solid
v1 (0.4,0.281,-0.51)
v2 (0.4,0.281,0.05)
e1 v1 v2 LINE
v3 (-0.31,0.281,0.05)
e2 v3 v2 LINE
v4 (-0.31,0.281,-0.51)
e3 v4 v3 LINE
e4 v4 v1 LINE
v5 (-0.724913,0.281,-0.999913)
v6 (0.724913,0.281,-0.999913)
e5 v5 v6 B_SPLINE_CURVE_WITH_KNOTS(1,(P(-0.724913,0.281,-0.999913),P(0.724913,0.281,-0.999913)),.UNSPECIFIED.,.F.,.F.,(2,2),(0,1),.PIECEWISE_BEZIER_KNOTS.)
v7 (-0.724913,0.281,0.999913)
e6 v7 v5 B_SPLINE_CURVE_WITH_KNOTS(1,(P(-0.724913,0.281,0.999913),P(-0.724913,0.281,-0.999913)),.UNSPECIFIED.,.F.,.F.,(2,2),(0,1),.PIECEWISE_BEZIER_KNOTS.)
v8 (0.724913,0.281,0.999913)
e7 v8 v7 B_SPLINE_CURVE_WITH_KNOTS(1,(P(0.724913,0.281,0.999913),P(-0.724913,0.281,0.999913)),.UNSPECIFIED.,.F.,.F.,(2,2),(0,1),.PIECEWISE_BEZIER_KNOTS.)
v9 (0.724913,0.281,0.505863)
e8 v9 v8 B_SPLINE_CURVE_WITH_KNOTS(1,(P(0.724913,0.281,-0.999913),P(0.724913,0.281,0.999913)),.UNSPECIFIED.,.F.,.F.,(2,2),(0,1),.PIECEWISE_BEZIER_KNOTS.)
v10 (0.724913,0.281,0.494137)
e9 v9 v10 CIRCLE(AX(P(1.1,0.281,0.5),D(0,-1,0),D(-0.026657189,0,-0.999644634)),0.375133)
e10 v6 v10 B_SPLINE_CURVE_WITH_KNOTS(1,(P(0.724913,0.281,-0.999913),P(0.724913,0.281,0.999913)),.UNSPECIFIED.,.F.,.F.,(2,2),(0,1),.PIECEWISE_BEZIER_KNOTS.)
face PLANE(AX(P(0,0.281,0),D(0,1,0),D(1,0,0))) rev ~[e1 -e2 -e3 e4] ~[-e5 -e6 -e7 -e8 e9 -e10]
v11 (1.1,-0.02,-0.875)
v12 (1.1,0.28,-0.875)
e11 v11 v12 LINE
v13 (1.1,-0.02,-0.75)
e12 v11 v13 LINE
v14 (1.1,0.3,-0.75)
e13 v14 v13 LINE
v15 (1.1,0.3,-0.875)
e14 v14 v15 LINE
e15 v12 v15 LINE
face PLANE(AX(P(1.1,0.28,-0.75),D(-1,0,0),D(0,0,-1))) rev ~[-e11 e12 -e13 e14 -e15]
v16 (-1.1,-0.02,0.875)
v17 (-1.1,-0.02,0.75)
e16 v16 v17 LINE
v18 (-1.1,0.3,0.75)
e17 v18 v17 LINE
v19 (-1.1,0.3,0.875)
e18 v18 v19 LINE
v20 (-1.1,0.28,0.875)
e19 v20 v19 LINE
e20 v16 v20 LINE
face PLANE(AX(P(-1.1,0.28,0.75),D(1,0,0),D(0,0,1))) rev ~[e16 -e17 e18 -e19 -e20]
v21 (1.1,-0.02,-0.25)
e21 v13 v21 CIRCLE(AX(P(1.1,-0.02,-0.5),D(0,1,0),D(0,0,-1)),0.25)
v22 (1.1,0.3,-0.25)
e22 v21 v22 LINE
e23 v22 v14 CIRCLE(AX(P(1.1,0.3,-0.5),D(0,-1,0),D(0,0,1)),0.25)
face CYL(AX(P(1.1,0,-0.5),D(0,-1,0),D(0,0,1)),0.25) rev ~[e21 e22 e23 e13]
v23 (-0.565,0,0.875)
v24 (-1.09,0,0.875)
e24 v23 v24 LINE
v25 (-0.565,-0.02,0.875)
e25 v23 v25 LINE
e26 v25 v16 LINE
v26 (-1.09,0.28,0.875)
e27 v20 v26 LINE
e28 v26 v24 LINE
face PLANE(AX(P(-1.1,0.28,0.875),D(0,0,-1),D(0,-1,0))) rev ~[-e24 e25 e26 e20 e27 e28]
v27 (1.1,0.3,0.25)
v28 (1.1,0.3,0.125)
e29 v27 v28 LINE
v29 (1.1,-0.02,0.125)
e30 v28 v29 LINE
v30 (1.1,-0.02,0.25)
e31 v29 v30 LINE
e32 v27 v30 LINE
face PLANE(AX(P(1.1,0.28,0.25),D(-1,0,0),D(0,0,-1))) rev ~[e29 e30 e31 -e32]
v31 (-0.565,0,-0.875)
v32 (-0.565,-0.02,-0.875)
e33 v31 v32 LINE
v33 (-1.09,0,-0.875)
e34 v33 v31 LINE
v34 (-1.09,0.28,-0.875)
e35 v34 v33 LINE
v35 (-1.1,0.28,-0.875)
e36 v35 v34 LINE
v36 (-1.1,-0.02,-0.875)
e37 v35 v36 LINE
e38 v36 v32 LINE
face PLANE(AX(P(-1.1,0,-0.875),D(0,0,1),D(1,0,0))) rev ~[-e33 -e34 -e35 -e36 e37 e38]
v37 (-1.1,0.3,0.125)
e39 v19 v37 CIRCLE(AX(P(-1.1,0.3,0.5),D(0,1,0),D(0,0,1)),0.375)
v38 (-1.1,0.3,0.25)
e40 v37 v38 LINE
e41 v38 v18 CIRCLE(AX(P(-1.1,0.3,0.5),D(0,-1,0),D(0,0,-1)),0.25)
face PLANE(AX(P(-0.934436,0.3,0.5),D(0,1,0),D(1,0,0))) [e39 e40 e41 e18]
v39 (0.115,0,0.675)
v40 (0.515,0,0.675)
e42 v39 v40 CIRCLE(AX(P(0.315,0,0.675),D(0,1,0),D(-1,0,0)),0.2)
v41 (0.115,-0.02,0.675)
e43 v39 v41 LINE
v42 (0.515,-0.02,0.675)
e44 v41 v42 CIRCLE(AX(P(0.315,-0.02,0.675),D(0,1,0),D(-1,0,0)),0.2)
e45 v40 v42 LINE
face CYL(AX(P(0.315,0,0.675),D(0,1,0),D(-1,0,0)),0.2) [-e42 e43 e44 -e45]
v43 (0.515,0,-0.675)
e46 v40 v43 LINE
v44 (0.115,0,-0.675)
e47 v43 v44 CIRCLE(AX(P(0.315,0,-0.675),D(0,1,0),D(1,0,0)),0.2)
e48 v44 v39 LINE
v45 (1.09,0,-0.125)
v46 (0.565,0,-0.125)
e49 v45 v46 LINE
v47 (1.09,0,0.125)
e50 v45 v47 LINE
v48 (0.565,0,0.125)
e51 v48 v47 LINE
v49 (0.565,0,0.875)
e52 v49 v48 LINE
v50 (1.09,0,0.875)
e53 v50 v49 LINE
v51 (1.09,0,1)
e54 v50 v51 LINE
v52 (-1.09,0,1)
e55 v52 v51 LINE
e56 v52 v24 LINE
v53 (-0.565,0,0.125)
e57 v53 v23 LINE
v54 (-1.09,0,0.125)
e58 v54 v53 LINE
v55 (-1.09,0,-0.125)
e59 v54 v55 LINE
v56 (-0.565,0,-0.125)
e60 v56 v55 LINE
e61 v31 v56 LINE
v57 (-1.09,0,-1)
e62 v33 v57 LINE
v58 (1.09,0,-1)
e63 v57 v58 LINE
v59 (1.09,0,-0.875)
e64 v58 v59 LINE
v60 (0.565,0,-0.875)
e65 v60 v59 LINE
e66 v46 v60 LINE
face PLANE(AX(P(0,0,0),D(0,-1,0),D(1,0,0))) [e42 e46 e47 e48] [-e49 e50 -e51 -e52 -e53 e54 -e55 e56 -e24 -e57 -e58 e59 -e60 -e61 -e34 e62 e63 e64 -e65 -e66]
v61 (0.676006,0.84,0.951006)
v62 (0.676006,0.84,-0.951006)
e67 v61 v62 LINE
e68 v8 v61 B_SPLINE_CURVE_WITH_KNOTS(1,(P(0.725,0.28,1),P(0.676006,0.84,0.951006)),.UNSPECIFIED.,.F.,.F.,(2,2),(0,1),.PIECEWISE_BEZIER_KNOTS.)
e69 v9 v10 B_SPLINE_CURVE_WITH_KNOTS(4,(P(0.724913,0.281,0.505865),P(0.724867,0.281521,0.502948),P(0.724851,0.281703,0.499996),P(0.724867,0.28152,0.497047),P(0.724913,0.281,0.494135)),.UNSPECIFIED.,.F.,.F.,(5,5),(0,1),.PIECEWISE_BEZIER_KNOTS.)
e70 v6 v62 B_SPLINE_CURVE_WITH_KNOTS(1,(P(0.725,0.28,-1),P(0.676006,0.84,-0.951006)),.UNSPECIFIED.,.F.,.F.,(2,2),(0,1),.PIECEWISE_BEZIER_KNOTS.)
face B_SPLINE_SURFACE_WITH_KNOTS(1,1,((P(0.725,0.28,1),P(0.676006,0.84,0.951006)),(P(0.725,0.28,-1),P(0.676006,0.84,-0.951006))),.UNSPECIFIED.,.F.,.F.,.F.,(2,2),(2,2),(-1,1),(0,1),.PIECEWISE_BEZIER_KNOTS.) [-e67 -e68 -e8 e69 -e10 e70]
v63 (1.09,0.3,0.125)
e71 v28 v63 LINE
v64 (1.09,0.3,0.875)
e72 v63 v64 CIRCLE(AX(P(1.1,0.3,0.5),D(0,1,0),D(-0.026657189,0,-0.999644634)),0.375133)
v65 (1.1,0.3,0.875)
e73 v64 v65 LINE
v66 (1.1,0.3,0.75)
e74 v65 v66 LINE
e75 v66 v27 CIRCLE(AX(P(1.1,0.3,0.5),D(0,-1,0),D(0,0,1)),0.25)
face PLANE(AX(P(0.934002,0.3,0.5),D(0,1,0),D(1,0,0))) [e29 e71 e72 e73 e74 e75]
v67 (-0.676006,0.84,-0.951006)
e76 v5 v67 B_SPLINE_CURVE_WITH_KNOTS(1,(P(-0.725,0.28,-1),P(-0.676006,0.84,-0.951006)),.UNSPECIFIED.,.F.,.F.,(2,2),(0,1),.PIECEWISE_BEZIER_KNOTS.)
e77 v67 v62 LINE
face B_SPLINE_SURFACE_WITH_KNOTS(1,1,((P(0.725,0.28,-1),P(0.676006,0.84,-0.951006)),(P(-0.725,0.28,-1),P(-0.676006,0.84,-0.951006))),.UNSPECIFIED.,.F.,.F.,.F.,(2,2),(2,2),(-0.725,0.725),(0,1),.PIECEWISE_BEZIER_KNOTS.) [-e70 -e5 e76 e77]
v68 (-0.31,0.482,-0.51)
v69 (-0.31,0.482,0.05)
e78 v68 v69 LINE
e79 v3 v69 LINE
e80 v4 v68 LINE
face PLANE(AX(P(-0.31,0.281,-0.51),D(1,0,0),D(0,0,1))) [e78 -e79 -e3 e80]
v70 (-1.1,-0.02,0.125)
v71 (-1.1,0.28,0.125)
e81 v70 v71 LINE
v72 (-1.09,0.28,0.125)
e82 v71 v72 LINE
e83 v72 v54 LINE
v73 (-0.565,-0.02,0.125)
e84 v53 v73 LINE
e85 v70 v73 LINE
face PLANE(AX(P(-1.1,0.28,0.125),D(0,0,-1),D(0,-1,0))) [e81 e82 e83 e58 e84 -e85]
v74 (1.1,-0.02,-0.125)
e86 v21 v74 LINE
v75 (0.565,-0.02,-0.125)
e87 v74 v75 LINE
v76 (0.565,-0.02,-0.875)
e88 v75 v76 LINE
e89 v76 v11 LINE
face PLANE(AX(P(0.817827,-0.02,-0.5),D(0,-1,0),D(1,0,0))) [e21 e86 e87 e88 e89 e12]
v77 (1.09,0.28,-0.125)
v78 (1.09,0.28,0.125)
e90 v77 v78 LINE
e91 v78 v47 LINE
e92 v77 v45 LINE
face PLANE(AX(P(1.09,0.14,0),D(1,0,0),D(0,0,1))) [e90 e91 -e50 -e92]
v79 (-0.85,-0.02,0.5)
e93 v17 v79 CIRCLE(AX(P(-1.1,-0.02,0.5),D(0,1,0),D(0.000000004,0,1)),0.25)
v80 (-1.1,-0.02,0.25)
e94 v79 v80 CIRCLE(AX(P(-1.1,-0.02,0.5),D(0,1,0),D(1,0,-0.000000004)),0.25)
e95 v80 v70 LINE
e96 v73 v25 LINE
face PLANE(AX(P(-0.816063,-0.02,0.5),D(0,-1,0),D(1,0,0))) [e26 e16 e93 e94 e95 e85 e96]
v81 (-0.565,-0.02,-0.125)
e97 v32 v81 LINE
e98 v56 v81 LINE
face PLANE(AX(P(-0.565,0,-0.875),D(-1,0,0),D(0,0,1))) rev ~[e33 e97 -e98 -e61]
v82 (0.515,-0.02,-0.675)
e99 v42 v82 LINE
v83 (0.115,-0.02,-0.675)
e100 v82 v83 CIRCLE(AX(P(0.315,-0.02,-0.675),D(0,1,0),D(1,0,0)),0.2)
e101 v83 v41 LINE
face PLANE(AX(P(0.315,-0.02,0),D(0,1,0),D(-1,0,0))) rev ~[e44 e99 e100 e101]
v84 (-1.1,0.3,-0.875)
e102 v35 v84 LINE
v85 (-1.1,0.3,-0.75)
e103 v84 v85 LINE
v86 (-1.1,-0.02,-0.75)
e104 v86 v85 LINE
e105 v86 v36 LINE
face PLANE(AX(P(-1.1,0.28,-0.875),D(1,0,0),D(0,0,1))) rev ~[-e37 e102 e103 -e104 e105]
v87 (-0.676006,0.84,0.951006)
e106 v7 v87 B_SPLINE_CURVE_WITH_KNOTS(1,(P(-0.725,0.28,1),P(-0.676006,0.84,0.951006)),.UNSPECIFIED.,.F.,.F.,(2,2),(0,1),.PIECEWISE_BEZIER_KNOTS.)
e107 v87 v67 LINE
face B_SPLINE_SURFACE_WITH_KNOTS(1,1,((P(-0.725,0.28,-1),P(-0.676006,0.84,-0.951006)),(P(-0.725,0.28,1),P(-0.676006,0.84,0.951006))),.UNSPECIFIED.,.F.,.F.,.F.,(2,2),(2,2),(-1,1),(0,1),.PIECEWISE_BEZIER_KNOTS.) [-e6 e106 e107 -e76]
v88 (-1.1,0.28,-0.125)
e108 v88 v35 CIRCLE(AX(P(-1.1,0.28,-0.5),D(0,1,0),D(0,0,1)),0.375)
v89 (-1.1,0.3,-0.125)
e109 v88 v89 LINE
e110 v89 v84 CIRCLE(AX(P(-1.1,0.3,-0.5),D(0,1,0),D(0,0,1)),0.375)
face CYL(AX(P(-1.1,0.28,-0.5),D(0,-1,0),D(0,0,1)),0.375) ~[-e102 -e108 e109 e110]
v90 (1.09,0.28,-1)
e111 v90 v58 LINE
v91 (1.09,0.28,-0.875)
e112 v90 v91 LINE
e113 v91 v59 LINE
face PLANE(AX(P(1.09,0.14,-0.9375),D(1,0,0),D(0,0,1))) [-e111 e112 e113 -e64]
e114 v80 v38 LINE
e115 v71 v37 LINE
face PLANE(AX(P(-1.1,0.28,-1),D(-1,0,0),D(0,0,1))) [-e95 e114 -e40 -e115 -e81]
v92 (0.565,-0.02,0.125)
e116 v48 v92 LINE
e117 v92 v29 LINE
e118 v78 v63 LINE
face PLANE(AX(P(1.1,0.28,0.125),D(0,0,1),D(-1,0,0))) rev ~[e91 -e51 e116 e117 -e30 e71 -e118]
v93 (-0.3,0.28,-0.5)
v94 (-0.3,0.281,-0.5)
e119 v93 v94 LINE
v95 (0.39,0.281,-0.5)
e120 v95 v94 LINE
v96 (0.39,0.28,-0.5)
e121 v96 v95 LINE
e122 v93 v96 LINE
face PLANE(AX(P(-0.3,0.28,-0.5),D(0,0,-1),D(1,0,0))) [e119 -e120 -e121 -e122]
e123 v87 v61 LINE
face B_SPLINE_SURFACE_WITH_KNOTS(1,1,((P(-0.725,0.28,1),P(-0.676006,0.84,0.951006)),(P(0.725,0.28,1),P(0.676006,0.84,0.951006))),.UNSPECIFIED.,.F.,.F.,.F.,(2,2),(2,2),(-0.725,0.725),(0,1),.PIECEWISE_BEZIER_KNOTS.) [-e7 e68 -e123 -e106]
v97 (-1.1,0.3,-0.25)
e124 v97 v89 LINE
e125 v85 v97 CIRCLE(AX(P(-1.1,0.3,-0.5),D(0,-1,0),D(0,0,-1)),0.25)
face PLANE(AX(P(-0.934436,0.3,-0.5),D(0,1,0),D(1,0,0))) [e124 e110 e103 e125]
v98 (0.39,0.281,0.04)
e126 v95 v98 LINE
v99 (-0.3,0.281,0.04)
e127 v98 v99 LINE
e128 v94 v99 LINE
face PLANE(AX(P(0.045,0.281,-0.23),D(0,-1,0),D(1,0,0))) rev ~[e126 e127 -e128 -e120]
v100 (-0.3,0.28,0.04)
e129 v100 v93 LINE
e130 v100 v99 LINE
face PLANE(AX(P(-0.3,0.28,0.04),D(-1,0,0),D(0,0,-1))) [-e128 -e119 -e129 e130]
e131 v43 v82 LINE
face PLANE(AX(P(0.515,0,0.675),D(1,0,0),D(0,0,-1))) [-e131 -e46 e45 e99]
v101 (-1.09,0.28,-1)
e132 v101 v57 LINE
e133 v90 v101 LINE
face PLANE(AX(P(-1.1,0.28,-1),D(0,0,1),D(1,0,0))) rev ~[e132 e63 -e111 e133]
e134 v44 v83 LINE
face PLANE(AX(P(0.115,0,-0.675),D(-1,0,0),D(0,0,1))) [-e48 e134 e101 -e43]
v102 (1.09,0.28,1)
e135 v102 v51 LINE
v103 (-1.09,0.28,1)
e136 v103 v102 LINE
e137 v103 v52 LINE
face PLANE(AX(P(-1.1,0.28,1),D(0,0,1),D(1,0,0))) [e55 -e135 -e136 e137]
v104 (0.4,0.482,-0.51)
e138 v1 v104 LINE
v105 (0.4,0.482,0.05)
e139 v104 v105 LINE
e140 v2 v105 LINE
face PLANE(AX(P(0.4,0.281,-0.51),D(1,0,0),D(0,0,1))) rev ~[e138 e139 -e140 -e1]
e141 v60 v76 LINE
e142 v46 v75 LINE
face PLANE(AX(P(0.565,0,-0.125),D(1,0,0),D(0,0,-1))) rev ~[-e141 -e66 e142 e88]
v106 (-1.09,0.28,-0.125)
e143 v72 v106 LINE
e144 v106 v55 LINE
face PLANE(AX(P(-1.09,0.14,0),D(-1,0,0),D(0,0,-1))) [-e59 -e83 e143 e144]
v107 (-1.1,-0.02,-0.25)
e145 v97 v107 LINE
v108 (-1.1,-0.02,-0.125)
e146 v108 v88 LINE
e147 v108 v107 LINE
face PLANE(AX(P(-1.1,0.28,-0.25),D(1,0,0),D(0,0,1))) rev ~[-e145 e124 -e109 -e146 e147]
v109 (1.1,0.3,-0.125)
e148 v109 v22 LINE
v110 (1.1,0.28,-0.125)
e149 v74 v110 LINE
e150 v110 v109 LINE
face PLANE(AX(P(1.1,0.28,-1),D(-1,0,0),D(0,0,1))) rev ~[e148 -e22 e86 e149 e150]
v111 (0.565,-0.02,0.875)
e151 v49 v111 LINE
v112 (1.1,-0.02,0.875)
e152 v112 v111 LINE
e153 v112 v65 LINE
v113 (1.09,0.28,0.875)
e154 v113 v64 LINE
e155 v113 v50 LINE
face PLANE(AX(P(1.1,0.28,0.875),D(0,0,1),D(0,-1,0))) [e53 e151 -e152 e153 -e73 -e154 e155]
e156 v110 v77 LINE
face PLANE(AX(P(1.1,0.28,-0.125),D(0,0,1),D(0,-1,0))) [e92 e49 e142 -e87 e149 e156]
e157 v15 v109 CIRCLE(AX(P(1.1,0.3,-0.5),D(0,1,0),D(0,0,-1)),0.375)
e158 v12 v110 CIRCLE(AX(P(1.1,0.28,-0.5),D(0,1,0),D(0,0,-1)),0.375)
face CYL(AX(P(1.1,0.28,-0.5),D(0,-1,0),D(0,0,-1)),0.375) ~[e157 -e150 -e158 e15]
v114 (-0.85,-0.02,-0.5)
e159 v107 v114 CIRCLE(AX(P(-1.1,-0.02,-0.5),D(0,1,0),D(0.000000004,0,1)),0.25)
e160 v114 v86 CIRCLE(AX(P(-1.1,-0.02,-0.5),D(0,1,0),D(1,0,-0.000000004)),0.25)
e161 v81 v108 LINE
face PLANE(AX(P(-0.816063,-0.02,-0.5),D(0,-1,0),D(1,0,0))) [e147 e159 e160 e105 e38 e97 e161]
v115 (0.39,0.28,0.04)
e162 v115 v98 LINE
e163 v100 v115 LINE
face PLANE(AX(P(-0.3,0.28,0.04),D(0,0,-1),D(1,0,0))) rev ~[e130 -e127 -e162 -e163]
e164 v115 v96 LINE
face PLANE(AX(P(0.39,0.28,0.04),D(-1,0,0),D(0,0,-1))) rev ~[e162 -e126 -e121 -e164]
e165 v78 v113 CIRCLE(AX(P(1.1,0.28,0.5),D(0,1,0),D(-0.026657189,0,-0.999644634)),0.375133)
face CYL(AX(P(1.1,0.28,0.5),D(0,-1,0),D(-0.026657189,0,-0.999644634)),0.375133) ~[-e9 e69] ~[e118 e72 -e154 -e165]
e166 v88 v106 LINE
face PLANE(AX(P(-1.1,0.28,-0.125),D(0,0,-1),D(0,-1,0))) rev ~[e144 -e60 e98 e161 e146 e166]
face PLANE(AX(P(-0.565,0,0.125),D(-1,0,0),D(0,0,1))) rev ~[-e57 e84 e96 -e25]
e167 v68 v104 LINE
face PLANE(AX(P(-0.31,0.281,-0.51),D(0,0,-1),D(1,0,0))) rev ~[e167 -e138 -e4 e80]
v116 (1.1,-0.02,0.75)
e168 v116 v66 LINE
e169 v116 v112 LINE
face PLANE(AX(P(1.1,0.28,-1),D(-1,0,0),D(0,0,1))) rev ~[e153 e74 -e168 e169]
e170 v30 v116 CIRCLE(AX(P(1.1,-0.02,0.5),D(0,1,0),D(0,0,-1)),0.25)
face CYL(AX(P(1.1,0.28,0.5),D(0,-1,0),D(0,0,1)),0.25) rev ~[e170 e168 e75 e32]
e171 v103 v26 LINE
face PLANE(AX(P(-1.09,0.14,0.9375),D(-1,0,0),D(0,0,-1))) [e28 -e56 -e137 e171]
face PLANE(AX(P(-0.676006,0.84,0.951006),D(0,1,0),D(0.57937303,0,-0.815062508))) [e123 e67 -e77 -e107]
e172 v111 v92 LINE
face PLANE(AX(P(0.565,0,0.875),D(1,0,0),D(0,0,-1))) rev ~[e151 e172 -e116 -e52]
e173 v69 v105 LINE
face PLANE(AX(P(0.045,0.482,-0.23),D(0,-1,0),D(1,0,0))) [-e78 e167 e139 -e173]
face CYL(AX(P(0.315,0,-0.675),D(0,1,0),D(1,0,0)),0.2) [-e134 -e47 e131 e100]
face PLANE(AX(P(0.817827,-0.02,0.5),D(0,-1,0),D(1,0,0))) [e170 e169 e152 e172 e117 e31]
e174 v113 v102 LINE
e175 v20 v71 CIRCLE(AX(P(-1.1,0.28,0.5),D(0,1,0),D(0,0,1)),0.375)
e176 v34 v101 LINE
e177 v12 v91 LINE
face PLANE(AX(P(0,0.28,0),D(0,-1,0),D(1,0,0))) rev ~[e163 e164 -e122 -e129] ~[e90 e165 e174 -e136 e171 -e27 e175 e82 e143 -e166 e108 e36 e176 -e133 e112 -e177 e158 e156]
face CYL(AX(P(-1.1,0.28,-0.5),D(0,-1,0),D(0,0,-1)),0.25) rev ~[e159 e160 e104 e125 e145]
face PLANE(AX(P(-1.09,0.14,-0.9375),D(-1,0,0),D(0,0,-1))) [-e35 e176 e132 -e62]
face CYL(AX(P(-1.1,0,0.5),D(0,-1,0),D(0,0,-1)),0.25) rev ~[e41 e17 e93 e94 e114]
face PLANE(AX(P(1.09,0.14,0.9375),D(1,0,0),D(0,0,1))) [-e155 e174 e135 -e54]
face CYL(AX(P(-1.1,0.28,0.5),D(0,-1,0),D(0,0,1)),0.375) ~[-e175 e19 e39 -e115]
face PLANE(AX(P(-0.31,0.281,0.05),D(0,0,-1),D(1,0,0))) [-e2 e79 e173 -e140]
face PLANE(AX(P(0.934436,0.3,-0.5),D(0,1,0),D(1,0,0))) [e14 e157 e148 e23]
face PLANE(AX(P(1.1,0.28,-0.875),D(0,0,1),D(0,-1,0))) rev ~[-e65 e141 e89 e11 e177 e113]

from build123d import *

# Parameters (mm, degrees)
SKETCH1_W             = 2.2
SKETCH1_H             = 2
BOSS_EXTRUDE1_DEPTH   = 0.28
BOSS_EXTRUDE2_DEPTH   = 0.02
CUT_EXTRUDE1_DEPTH    = 2
SKETCH4_W             = 0.125
SKETCH4_H             = 0.28
SKETCH4_W_2           = 0.25
CUT_EXTRUDE2_DEPTH    = 0.01
SKETCH5_W             = 0.125
SKETCH5_H             = 0.28
SKETCH5_W_2           = 0.25
CUT_EXTRUDE3_DEPTH    = 0.01
SKETCH6_W             = 1.45
SKETCH6_H             = 2
BOSS_EXTRUDE3_DEPTH   = 0.56
BOSS_EXTRUDE3_TAPER   = 5
SKETCH8_W             = 1.45
SKETCH8_H             = 2
CUT_EXTRUDE4_DEPTH    = 0.001
SKETCH10_W            = 0.69
SKETCH10_H            = 0.54
BOSS_EXTRUDE5_DEPTH   = 0.2
SKETCH11_W            = 0.71
SKETCH11_H            = 0.56
SKETCH11_W_2          = 0.69
SKETCH11_H_2          = 0.54
CUT_EXTRUDE5_DEPTH    = 0.201
BOSS_EXTRUDE4_DEPTH   = 0.02
BOSS_EXTRUDE6_DEPTH   = 0.02
BODY_MOVE_COPY1_ANGLE = 90
BODY_MOVE_COPY3_ANGLE = 90


with BuildPart() as part:
    # Sketch1 → Boss-Extrude1 (new body)
    with BuildSketch(Plane(origin=(0, 0, 0), x_dir=(1, 0, 0), z_dir=(0, 1, 0))):
        Rectangle(SKETCH1_W, SKETCH1_H)
    extrude(amount=BOSS_EXTRUDE1_DEPTH)

    # Sketch2 → Boss-Extrude2 (add)
    with BuildSketch(Plane(origin=(0, 0.28, 0), x_dir=(1, 0, 0), z_dir=(0, 1, 0))):
        with BuildLine():
            Line((-0.565, 0.875), (-1.1, 0.875))
            Line((-1.1, 0.875), (-1.1, 0.75))
            ThreePointArc((-1.1, 0.75), (-0.923223305, 0.676776695), (-0.85, 0.5))
            ThreePointArc((-0.85, 0.5), (-0.923223305, 0.323223305), (-1.1, 0.25))
            Line((-1.1, 0.25), (-1.1, 0.125))
            Line((-1.1, 0.125), (-0.565, 0.125))
            Line((-0.565, 0.125), (-0.565, 0.875))
        make_face()
        with BuildLine():
            Line((1.1, 0.875), (0.565, 0.875))
            Line((0.565, 0.875), (0.565, 0.125))
            Line((0.565, 0.125), (1.1, 0.125))
            Line((1.1, 0.125), (1.1, 0.25))
            ThreePointArc((1.1, 0.25), (0.85, 0.5), (1.1, 0.75))
            Line((1.1, 0.75), (1.1, 0.875))
        make_face()
        with BuildLine():
            Line((1.1, -0.25), (1.1, -0.125))
            Line((1.1, -0.125), (0.565, -0.125))
            Line((0.565, -0.125), (0.565, -0.875))
            Line((0.565, -0.875), (1.1, -0.875))
            Line((1.1, -0.875), (1.1, -0.75))
            ThreePointArc((1.1, -0.75), (0.85, -0.5), (1.1, -0.25))
        make_face()
        with BuildLine():
            Line((-0.565, -0.125), (-1.1, -0.125))
            Line((-1.1, -0.125), (-1.1, -0.25))
            ThreePointArc((-1.1, -0.25), (-0.923223305, -0.323223305), (-0.85, -0.5))
            ThreePointArc((-0.85, -0.5), (-0.923223305, -0.676776695), (-1.1, -0.75))
            Line((-1.1, -0.75), (-1.1, -0.875))
            Line((-1.1, -0.875), (-0.565, -0.875))
            Line((-0.565, -0.875), (-0.565, -0.125))
        make_face()
    extrude(amount=BOSS_EXTRUDE2_DEPTH)

    # Sketch3 → Cut-Extrude1 (cut)
    with BuildSketch(Plane(origin=(0, 0.28, 0), x_dir=(1, 0, 0), z_dir=(0, 1, 0))):
        with BuildLine():
            Line((-1.1, 0.75), (-1.1, 0.25))
            ThreePointArc((-1.1, 0.25), (-0.85, 0.5), (-1.1, 0.75))
        make_face()
        with BuildLine():
            Line((-1.1, -0.25), (-1.1, -0.75))
            ThreePointArc((-1.1, -0.75), (-0.85, -0.5), (-1.1, -0.25))
        make_face()
        with BuildLine():
            Line((1.1, 0.25), (1.1, 0.75))
            ThreePointArc((1.1, 0.75), (0.85, 0.5), (1.1, 0.25))
        make_face()
        with BuildLine():
            Line((1.1, -0.75), (1.1, -0.25))
            ThreePointArc((1.1, -0.25), (0.85, -0.5), (1.1, -0.75))
        make_face()
    extrude(amount=-CUT_EXTRUDE1_DEPTH, mode=Mode.SUBTRACT)

    # Sketch4 → Cut-Extrude2 (cut)
    with BuildSketch(Plane.ZY.offset(1.1)):
        with Locations((-0.9375, 0.14)):
            Rectangle(SKETCH4_W, SKETCH4_H)
        with Locations((0, 0.14)):
            Rectangle(SKETCH4_W_2, SKETCH4_H)
        with Locations((0.9375, 0.14)):
            Rectangle(SKETCH4_W, SKETCH4_H)
    extrude(amount=-CUT_EXTRUDE2_DEPTH, mode=Mode.SUBTRACT)

    # Sketch5 → Cut-Extrude3 (cut)
    with BuildSketch(Plane(origin=(1.1, 0, 0), x_dir=(0, 0, -1), z_dir=(1, 0, 0))):
        with Locations((-0.9375, 0.14)):
            Rectangle(SKETCH5_W, SKETCH5_H)
        with Locations((0, 0.14)):
            Rectangle(SKETCH5_W_2, SKETCH5_H)
        with Locations((0.9375, 0.14)):
            Rectangle(SKETCH5_W, SKETCH5_H)
    extrude(amount=-CUT_EXTRUDE3_DEPTH, mode=Mode.SUBTRACT)

    # Sketch6 → Boss-Extrude3 (add)
    with BuildSketch(Plane.XZ):
        Rectangle(SKETCH6_W, SKETCH6_H)
    extrude(amount=BOSS_EXTRUDE3_DEPTH, taper=BOSS_EXTRUDE3_TAPER)

    # Sketch8 → Cut-Extrude4 (cut)
    with BuildSketch(Plane.XZ):
        Rectangle(SKETCH8_W, SKETCH8_H)
    extrude(amount=CUT_EXTRUDE4_DEPTH, mode=Mode.SUBTRACT)


with BuildPart() as cut_extrude4_piece_1:
    # of the separate pieces the step leaves, piece 1, a body of its own (cut_extrude4_pieces)
    add(part.part.solids().sort_by_distance((-0.724912511, -0.001, -0.999912511))[0])



with BuildPart() as cut_extrude4_piece_2:
    # of the separate pieces the step leaves, piece 2, a body of its own (cut_extrude4_pieces)
    add(part.part.solids().sort_by_distance((1.09, 0, -1))[0])


with BuildPart() as cut_extrude4_piece_1_1:
    add(cut_extrude4_piece_1.part)

    add(cut_extrude4_piece_2.part)  # Boss-Extrude5 merges Cut-Extrude4 piece 2
    # Sketch10 → Boss-Extrude5 (add)
    with BuildSketch(Plane.XZ):
        with Locations((0.045, 0.23)):
            Rectangle(SKETCH10_W, SKETCH10_H)
    extrude(amount=BOSS_EXTRUDE5_DEPTH)

    # Sketch11 → Cut-Extrude5 (cut)
    with BuildSketch(Plane(origin=(0, -0.001, 0), x_dir=(1, 0, 0), z_dir=(0, 1, 0))):
        with Locations((0.045, -0.23)):
            Rectangle(SKETCH11_W, SKETCH11_H)
        with Locations((0.045, -0.23)):
            Rectangle(SKETCH11_W_2, SKETCH11_H_2, mode=Mode.SUBTRACT)
        with Locations((0.045, -0.23)):
            Rectangle(SKETCH11_W_2, SKETCH11_H_2)
    extrude(amount=-CUT_EXTRUDE5_DEPTH, mode=Mode.SUBTRACT)


with BuildPart() as cut_extrude5_piece_1:
    # of the separate pieces the step leaves, piece 1, a body of its own (cut_extrude5_pieces)
    add(cut_extrude4_piece_1_1.part.solids().sort_by_distance((0.724912511, -0.001, 0.999912511))[0])



with BuildPart() as cut_extrude5_piece_2:
    # of the separate pieces the step leaves, piece 2, a body of its own (cut_extrude5_pieces)
    add(cut_extrude4_piece_1_1.part.solids().sort_by_distance((1.09, 0, -1))[0])


with BuildPart() as cut_extrude5_piece_1_1:
    add(cut_extrude5_piece_1.part)

    add(cut_extrude5_piece_2.part)  # Boss-Extrude4 merges Cut-Extrude5 piece 2
    # Sketch9 → Boss-Extrude4 (add)
    with BuildSketch(Plane.XZ):
        with BuildLine():
            ThreePointArc((-1.1, 0.125), (-0.725, 0.5), (-1.1, 0.875))
            Line((-1.1, 0.875), (-1.1, 0.75))
            ThreePointArc((-1.1, 0.75), (-0.85, 0.5), (-1.1, 0.25))
            Line((-1.1, 0.25), (-1.1, 0.125))
        make_face()
        with BuildLine():
            ThreePointArc((-1.1, -0.875), (-0.725, -0.5), (-1.1, -0.125))
            Line((-1.1, -0.125), (-1.1, -0.25))
            ThreePointArc((-1.1, -0.25), (-0.85, -0.5), (-1.1, -0.75))
            Line((-1.1, -0.75), (-1.1, -0.875))
        make_face()
        with BuildLine():
            ThreePointArc((1.1, 0.875), (0.725, 0.5), (1.1, 0.125))
            Line((1.1, 0.125), (1.1, 0.25))
            ThreePointArc((1.1, 0.25), (0.85, 0.5), (1.1, 0.75))
            Line((1.1, 0.75), (1.1, 0.875))
        make_face()
        with BuildLine():
            ThreePointArc((1.09, -0.125), (0.72486669, -0.5), (1.09, -0.875))
            Line((1.09, -0.875), (1.1, -0.875))
            Line((1.1, -0.875), (1.1, -0.75))
            ThreePointArc((1.1, -0.75), (0.85, -0.5), (1.1, -0.25))
            Line((1.1, -0.25), (1.1, -0.125))
            Line((1.1, -0.125), (1.09, -0.125))
        make_face()
    extrude(amount=BOSS_EXTRUDE4_DEPTH)

    # Sketch12 → Boss-Extrude6 (add)
    with BuildSketch(Plane(origin=(0, 0.28, 0), x_dir=(1, 0, 0), z_dir=(0, 1, 0))):
        with BuildLine():
            Line((0.515, 0.675), (0.515, -0.675))
            ThreePointArc((0.515, -0.675), (0.315, -0.875), (0.115, -0.675))
            Line((0.115, -0.675), (0.115, 0.675))
            ThreePointArc((0.115, 0.675), (0.315, 0.875), (0.515, 0.675))
        make_face()
    extrude(amount=BOSS_EXTRUDE6_DEPTH)


with BuildPart() as cut_extrude5_piece_1_2:
    # Body-Move/Copy1: moved
    add(cut_extrude5_piece_1_1.part.rotate(Axis((0, 0, 0), (-1, 0, 0)), BODY_MOVE_COPY1_ANGLE))


with BuildPart() as cut_extrude5_piece_1_3:
    # Body-Move/Copy2: moved
    add(cut_extrude5_piece_1_2.part.moved(Location((0, 0, 0.28))))


with BuildPart() as cut_extrude5_piece_1_4:
    # Body-Move/Copy3: moved
    add(cut_extrude5_piece_1_3.part.rotate(Axis((0, 0, 0), (-1, 0, 0)), BODY_MOVE_COPY3_ANGLE))


solid = cut_extrude5_piece_1_4.part
